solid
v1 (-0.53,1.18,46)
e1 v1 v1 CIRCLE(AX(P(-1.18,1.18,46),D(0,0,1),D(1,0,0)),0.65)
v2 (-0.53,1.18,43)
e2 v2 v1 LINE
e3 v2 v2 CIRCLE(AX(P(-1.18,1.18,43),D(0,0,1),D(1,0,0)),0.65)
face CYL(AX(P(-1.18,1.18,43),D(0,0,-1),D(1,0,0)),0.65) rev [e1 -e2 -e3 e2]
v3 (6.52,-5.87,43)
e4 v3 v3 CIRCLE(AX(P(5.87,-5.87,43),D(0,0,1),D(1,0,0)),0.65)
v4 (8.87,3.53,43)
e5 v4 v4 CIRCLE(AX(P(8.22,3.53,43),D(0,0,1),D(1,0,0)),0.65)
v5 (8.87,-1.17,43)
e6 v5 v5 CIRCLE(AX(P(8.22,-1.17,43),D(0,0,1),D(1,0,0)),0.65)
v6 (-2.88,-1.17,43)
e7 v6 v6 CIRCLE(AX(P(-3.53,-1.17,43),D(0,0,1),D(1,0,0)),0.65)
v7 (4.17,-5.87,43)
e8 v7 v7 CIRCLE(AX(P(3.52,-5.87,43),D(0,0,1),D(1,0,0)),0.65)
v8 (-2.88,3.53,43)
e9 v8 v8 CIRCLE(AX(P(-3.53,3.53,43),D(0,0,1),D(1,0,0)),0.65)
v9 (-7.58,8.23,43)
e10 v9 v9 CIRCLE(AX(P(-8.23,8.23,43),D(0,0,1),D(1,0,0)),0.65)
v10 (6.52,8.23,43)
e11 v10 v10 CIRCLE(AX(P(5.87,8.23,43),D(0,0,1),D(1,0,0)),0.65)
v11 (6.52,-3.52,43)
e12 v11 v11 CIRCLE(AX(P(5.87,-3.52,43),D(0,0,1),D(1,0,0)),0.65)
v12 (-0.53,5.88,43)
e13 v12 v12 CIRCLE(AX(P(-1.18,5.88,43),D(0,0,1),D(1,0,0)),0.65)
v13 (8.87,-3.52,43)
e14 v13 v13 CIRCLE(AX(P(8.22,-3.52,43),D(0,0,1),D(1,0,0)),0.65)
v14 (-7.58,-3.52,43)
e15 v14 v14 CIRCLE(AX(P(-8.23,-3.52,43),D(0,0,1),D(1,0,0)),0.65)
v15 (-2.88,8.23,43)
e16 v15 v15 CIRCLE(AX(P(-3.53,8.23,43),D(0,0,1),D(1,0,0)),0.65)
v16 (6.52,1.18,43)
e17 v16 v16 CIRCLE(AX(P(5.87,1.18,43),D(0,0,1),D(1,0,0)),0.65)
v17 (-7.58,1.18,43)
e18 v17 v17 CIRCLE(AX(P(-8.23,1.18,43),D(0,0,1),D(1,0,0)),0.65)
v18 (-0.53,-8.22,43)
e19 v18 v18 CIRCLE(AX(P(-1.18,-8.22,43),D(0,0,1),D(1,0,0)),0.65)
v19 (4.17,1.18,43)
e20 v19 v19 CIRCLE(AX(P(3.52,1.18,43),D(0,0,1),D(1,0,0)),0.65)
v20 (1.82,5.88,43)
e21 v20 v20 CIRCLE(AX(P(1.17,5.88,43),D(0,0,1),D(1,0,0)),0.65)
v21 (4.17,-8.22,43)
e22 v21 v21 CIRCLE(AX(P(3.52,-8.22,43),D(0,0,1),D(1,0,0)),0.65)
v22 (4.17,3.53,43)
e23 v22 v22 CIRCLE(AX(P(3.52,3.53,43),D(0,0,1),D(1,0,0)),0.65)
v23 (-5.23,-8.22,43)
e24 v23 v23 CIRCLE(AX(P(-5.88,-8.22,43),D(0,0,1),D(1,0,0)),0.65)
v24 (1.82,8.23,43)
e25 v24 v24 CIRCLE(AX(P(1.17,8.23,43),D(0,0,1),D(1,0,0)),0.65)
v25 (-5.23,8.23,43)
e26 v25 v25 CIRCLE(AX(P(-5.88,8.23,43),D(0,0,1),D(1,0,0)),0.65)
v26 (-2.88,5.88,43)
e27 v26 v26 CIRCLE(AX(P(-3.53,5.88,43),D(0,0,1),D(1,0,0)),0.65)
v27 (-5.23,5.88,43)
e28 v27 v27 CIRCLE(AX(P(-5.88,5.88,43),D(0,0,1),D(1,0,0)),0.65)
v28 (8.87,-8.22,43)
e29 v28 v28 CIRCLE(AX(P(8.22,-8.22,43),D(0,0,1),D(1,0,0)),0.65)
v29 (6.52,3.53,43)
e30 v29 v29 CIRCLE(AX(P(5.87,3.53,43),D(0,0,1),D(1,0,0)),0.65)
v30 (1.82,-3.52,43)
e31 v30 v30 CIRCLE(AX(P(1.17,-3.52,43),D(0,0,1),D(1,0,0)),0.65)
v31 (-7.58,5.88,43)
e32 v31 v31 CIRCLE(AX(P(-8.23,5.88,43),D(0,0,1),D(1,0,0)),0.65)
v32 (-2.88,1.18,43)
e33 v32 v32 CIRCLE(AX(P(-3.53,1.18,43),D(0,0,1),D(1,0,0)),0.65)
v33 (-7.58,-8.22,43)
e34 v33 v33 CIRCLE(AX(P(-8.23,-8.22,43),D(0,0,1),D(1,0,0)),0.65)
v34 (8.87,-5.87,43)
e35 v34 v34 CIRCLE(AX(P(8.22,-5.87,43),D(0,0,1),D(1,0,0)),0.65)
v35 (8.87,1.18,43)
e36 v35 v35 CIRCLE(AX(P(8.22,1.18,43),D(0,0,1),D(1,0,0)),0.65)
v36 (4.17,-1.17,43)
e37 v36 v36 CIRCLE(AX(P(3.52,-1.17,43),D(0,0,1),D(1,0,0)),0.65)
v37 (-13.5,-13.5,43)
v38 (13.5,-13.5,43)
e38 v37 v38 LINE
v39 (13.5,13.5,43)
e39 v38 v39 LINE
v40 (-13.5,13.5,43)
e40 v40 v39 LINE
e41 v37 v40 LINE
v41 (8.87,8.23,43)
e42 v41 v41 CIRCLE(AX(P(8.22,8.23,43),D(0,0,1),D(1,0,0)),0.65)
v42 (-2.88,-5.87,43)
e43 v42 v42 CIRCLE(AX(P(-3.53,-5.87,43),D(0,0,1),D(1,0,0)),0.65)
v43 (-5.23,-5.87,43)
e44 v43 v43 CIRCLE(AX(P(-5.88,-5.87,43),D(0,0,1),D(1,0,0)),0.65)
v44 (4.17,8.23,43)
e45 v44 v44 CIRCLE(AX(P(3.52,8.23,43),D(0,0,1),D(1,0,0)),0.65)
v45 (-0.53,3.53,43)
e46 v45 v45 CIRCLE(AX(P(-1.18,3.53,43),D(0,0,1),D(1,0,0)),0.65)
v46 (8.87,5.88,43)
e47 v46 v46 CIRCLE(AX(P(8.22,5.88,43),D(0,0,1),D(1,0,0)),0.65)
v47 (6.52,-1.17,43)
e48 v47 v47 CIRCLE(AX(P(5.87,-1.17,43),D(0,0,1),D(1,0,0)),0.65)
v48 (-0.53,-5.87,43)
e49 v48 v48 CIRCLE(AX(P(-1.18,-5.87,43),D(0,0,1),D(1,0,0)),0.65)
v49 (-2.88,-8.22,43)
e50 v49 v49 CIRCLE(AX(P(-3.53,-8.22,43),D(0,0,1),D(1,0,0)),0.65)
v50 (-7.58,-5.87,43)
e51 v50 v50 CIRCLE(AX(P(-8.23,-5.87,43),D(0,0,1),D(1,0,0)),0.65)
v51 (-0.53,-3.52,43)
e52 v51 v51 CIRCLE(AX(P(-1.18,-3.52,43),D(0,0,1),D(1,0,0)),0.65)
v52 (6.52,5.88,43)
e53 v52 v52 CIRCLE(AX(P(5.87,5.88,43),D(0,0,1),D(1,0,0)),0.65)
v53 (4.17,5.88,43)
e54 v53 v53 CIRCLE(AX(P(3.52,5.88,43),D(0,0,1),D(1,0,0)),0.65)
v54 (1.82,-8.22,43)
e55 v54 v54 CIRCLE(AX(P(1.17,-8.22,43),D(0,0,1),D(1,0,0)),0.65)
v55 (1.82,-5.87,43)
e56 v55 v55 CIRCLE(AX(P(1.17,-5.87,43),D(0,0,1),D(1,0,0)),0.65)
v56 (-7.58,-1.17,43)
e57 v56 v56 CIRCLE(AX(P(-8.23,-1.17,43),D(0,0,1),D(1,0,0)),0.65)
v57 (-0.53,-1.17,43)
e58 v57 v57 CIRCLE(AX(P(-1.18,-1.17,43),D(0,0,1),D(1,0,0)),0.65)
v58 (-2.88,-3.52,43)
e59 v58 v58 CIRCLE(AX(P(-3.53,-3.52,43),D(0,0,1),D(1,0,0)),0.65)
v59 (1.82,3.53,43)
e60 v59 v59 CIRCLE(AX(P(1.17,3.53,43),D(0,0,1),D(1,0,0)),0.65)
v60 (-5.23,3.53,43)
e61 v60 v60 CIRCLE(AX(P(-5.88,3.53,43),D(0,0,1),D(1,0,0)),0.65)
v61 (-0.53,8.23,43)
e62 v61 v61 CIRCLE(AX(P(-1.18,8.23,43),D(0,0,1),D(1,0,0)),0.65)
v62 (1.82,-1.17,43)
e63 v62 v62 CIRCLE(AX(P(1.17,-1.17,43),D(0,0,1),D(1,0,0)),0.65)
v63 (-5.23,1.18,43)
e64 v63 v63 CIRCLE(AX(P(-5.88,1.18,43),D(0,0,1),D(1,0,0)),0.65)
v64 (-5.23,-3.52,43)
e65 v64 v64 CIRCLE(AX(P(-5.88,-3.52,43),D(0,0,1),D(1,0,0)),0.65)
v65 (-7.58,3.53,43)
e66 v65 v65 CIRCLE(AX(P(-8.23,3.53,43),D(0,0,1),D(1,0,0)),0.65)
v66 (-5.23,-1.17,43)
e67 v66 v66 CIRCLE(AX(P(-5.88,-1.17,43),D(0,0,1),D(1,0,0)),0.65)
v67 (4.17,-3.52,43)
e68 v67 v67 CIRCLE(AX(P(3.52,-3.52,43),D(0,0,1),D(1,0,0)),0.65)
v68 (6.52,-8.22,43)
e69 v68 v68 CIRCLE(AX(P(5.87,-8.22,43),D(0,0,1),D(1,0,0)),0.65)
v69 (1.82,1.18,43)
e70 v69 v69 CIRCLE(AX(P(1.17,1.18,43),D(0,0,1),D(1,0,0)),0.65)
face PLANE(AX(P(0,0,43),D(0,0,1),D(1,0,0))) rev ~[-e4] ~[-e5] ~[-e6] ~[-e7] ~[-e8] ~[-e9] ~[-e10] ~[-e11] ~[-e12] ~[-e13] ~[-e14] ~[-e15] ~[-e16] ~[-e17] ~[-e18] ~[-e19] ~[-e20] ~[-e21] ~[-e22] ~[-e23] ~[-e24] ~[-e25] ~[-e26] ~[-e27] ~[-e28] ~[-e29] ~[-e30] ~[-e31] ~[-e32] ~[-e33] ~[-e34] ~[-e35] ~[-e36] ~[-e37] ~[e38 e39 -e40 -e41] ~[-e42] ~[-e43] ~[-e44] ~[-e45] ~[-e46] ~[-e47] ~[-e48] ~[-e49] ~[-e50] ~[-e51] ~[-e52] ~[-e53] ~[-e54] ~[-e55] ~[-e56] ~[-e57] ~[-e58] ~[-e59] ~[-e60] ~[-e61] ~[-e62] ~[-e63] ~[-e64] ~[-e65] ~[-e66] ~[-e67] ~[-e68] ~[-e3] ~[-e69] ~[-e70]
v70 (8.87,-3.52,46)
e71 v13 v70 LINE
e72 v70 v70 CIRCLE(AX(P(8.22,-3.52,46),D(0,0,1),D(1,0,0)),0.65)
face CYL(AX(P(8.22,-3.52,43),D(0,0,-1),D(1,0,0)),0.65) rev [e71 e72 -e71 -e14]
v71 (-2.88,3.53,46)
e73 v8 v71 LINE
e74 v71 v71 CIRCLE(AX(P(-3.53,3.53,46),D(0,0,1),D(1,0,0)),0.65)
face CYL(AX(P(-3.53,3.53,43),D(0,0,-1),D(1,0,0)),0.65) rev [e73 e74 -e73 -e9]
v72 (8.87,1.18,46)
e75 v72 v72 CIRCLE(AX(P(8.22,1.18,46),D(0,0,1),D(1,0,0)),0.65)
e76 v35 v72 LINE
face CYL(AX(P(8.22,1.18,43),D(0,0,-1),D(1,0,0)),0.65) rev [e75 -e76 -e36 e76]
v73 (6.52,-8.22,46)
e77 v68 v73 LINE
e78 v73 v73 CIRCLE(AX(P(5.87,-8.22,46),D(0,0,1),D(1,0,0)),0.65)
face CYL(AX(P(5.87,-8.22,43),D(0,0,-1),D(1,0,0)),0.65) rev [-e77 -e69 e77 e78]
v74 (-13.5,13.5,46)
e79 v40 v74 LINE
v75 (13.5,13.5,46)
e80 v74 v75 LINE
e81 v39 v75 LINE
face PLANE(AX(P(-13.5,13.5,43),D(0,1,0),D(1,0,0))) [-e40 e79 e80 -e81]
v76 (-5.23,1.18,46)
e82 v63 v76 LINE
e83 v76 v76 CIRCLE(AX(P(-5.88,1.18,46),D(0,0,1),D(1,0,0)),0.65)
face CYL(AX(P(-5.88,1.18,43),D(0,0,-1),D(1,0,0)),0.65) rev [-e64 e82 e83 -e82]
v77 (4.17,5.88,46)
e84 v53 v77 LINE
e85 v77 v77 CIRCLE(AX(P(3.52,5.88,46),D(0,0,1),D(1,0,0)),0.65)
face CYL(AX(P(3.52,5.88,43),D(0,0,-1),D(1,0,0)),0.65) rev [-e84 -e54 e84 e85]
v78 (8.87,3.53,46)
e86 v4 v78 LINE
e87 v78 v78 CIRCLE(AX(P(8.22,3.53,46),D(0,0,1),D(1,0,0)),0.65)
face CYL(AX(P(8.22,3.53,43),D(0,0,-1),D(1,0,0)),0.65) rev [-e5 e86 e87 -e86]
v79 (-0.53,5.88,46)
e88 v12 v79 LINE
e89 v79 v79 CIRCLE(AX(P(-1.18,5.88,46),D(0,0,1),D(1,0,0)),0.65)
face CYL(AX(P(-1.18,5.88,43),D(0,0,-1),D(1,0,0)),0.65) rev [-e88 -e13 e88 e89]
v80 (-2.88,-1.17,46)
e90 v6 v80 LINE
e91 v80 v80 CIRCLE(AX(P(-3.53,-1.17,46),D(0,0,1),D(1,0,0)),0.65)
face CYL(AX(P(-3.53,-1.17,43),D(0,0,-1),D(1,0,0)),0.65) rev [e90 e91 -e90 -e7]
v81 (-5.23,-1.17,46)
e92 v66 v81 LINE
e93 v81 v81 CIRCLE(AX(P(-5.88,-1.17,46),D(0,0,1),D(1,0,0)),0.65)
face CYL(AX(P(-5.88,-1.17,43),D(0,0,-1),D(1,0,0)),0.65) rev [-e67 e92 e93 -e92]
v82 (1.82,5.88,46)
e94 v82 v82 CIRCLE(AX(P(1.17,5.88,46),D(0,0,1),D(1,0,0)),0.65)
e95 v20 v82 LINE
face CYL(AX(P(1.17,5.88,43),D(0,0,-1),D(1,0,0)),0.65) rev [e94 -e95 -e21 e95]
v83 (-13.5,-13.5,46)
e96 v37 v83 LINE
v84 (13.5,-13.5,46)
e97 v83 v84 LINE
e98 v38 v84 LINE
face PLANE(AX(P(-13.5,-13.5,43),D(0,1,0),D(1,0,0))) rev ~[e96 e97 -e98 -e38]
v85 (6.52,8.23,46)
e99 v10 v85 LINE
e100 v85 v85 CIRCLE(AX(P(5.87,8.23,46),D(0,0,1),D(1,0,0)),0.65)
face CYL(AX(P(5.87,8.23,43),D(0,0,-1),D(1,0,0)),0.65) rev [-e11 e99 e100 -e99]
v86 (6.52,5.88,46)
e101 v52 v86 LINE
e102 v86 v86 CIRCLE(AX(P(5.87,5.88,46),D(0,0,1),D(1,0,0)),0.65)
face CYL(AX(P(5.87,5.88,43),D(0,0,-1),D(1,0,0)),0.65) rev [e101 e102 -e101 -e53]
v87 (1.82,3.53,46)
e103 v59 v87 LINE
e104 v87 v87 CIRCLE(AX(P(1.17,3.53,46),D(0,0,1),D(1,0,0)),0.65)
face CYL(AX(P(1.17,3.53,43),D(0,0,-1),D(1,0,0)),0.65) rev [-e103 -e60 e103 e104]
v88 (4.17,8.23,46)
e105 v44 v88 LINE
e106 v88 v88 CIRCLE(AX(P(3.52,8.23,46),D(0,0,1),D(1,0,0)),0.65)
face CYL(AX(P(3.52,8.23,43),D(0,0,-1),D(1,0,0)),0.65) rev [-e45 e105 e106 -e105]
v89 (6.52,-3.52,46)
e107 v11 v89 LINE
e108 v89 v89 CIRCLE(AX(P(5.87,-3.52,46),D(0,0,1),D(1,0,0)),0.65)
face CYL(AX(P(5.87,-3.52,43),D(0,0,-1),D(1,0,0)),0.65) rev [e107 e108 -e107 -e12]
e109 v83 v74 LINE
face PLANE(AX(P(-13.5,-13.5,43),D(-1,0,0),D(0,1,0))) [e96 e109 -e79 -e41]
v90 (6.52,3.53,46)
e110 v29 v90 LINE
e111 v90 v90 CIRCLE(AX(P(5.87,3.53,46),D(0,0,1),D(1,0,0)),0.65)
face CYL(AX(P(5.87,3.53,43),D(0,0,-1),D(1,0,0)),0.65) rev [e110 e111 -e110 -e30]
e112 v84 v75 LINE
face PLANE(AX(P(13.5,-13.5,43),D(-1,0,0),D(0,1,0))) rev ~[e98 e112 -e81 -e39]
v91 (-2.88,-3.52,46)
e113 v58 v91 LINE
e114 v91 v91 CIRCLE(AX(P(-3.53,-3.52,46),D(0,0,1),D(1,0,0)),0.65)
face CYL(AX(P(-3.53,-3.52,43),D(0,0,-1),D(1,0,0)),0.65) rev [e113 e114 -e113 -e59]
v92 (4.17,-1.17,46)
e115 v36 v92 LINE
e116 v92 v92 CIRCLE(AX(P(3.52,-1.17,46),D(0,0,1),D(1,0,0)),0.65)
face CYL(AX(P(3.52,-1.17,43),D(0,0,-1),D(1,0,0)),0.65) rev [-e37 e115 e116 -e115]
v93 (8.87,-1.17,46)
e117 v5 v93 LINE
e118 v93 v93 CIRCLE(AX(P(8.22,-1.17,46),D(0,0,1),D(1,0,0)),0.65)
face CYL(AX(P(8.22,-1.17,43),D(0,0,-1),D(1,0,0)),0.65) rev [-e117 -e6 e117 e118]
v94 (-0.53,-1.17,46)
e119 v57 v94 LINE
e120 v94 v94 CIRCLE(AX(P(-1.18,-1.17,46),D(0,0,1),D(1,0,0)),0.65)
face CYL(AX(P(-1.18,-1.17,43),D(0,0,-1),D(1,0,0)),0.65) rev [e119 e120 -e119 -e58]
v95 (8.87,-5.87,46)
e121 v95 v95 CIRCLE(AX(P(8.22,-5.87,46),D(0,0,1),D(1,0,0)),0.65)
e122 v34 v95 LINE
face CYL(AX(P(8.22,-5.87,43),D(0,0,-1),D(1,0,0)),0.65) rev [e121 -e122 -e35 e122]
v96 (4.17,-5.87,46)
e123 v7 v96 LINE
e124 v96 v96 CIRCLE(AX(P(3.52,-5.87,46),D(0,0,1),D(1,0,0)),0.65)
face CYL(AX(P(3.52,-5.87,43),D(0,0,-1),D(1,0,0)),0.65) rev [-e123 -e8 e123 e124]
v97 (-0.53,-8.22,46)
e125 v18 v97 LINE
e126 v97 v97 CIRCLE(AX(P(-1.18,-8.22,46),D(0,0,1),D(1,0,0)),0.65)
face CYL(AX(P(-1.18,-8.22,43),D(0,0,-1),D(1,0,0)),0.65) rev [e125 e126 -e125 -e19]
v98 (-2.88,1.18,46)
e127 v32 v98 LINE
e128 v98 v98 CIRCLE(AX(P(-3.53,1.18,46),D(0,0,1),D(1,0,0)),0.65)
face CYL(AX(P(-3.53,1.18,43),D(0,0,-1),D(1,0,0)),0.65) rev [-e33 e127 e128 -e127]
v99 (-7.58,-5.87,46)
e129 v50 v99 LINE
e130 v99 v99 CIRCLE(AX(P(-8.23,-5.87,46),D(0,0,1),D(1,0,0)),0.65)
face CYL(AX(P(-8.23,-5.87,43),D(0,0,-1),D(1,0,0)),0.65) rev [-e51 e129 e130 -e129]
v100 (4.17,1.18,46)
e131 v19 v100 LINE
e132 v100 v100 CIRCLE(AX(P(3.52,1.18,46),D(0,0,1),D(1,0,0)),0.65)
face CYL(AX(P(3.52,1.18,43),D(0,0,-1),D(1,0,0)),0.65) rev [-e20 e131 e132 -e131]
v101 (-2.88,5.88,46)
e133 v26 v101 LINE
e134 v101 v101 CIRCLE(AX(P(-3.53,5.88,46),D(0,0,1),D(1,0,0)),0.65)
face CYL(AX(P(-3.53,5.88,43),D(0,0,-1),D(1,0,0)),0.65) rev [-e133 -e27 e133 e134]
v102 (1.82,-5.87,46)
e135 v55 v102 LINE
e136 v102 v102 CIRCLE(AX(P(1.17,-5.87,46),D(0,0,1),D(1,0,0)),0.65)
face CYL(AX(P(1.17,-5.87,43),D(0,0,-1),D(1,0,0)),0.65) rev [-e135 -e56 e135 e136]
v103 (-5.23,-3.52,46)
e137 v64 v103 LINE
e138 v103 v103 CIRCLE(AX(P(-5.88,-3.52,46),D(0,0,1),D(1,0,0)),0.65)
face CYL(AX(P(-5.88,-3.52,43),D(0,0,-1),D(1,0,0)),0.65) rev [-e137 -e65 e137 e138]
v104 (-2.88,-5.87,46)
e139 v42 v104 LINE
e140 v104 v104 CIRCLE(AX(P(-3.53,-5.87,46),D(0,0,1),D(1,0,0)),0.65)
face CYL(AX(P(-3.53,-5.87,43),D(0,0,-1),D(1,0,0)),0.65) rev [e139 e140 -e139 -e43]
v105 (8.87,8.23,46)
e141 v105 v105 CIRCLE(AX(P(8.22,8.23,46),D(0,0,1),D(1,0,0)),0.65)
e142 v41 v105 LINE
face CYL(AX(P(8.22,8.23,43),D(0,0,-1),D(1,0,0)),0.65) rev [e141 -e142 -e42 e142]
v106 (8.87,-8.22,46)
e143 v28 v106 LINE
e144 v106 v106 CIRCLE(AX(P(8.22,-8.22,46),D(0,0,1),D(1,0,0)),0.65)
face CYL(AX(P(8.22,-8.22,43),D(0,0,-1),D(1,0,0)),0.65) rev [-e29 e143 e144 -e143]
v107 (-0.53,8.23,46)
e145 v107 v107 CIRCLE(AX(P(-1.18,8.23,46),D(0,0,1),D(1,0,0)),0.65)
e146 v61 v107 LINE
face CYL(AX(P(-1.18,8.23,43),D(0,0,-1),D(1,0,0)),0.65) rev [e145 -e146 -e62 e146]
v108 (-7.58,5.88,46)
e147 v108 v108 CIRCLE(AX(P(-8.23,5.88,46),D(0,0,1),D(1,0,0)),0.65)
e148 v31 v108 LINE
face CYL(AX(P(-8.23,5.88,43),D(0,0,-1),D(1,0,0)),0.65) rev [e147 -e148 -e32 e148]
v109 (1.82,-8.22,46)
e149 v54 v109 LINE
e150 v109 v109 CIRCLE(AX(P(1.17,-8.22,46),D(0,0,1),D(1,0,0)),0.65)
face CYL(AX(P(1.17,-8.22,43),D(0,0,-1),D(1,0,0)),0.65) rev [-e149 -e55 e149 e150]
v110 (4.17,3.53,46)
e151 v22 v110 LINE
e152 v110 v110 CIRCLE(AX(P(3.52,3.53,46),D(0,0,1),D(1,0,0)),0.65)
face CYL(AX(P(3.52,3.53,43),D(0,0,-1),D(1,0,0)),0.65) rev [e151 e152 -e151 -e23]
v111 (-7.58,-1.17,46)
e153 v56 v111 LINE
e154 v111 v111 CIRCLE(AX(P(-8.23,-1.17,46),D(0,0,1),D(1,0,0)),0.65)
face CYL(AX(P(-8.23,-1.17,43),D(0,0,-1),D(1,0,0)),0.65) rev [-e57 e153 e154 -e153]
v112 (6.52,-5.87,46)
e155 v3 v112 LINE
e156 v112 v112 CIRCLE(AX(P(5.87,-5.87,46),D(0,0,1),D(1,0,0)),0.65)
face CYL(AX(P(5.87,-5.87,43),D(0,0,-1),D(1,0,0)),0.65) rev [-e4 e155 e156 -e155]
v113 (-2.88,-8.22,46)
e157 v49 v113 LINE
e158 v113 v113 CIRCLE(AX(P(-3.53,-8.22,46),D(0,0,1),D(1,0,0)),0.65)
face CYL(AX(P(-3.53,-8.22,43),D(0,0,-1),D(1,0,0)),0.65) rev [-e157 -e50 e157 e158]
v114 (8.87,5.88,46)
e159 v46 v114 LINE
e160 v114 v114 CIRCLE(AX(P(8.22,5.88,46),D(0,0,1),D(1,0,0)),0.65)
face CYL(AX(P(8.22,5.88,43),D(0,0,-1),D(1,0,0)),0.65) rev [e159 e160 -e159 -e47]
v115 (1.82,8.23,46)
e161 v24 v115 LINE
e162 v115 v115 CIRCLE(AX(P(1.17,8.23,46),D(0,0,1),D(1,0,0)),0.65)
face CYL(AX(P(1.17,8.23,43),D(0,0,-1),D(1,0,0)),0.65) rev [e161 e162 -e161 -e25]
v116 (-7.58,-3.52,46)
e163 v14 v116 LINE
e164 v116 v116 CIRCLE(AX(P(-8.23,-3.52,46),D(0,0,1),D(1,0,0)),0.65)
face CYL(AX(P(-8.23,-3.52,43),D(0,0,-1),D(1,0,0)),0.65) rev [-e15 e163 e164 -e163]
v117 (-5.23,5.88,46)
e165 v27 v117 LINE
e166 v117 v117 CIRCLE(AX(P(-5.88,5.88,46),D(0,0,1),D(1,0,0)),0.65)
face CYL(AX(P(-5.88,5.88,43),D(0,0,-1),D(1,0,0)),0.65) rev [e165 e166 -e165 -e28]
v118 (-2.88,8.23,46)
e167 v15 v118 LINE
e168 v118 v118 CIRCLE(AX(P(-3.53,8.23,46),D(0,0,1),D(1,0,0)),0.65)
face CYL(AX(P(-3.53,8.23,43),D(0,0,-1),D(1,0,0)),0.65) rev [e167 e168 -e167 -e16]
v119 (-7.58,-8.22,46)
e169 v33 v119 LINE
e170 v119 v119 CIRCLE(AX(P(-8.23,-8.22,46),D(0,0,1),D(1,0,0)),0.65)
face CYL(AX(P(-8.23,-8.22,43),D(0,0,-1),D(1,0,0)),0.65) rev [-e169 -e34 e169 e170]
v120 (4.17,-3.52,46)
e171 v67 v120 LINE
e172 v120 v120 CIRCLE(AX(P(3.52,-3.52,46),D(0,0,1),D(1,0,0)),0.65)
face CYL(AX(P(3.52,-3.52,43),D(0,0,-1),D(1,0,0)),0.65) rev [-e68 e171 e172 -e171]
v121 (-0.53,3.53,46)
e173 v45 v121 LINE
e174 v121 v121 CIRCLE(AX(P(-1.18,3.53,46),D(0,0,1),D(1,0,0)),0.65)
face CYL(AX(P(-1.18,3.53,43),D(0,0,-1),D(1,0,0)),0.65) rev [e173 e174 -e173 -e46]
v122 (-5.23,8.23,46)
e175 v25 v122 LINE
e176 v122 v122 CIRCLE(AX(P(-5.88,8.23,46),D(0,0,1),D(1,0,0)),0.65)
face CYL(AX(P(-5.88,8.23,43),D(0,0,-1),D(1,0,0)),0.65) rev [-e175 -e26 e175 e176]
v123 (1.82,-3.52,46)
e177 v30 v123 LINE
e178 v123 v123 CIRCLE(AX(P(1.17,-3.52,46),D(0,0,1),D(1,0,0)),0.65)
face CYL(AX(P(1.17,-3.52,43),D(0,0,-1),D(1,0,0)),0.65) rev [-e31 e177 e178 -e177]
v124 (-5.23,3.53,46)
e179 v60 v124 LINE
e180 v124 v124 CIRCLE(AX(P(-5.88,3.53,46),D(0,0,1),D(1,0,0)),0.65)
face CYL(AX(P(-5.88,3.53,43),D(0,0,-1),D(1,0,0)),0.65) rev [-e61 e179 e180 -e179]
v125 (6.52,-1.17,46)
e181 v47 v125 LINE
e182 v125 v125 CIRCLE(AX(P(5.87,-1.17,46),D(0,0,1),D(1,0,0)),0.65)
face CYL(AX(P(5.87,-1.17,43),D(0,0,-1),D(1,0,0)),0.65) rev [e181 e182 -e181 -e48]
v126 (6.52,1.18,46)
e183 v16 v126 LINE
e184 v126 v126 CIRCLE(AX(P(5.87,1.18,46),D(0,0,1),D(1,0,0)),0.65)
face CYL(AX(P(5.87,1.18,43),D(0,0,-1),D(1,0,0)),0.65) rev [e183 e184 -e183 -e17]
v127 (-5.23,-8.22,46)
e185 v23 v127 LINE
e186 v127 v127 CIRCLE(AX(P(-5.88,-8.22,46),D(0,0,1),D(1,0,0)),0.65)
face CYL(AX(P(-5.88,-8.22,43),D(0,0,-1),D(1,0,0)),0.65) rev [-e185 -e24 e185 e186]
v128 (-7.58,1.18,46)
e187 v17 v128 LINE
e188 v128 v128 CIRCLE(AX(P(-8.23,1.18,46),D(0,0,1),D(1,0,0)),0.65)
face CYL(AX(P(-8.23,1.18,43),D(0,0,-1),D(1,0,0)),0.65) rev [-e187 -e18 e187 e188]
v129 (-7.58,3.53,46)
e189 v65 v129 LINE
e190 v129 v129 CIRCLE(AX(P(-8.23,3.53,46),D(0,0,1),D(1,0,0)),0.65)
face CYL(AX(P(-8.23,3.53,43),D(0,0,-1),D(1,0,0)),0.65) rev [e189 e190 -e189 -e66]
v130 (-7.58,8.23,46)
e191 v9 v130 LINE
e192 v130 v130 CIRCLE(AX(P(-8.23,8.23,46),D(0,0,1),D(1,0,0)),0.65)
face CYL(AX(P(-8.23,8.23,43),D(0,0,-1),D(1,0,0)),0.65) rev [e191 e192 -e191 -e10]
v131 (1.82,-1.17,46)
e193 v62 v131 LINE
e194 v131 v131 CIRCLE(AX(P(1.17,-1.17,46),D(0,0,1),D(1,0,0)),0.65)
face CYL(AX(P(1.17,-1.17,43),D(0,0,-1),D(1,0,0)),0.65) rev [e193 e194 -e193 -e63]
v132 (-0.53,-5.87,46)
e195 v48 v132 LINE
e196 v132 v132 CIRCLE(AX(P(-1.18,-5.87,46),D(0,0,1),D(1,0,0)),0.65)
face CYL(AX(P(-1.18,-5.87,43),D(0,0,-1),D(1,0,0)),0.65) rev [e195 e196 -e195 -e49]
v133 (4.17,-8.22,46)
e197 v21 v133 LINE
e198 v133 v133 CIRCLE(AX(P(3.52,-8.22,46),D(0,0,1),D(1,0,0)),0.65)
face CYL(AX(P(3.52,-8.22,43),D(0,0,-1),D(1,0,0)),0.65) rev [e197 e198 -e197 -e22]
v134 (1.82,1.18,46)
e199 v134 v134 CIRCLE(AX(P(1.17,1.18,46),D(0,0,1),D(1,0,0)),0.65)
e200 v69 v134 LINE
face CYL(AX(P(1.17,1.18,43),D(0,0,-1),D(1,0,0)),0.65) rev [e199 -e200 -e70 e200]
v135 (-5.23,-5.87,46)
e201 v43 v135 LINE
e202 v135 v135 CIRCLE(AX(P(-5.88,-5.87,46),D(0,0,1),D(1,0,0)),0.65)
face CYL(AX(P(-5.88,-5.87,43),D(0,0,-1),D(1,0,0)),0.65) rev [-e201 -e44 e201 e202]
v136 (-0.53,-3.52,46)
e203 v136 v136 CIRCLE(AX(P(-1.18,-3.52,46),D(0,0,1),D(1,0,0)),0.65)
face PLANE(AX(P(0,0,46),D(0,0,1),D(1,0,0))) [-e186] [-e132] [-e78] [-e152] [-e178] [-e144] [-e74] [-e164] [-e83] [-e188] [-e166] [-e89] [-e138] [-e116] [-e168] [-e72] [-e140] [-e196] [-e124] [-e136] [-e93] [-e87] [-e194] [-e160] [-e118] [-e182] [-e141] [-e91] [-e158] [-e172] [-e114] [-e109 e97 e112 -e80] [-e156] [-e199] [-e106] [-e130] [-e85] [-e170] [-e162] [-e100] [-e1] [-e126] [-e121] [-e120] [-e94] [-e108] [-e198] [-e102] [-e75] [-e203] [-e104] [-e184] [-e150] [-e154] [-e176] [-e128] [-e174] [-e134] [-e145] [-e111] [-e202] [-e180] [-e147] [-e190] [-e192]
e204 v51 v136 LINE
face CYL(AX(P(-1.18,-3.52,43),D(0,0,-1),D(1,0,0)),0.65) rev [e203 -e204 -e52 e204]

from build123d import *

# Parameters (mm, degrees)
SKETCH2_W           = 27
SKETCH2_H           = 27
BOSS_EXTRUDE2_DEPTH = 3
SKETCH5_R           = 0.65
CUT_EXTRUDE1_DEPTH  = 3


with BuildPart() as part:
    # Sketch2 → Boss-Extrude2 (new body)
    with BuildSketch(Plane.XY.offset(43)):
        Rectangle(SKETCH2_W, SKETCH2_H)
    extrude(amount=BOSS_EXTRUDE2_DEPTH)

    # Sketch5 → Cut-Extrude1 (cut)
    with BuildSketch(Plane.XY.offset(43)):
        with Locations((-8.23, 8.23)):
            Circle(SKETCH5_R)
        with Locations((-5.88, 8.23)):
            Circle(SKETCH5_R)
        with Locations((-3.53, 8.23)):
            Circle(SKETCH5_R)
        with Locations((-1.18, 8.23)):
            Circle(SKETCH5_R)
        with Locations((1.17, 8.23)):
            Circle(SKETCH5_R)
        with Locations((3.52, 8.23)):
            Circle(SKETCH5_R)
        with Locations((5.87, 8.23)):
            Circle(SKETCH5_R)
        with Locations((8.22, 8.23)):
            Circle(SKETCH5_R)
        with Locations((-5.88, 5.88)):
            Circle(SKETCH5_R)
        with Locations((-3.53, 5.88)):
            Circle(SKETCH5_R)
        with Locations((-1.18, 5.88)):
            Circle(SKETCH5_R)
        with Locations((1.17, 5.88)):
            Circle(SKETCH5_R)
        with Locations((3.52, 5.88)):
            Circle(SKETCH5_R)
        with Locations((5.87, 5.88)):
            Circle(SKETCH5_R)
        with Locations((8.22, 5.88)):
            Circle(SKETCH5_R)
        with Locations((-5.88, 3.53)):
            Circle(SKETCH5_R)
        with Locations((-3.53, 3.53)):
            Circle(SKETCH5_R)
        with Locations((-1.18, 3.53)):
            Circle(SKETCH5_R)
        with Locations((1.17, 3.53)):
            Circle(SKETCH5_R)
        with Locations((3.52, 3.53)):
            Circle(SKETCH5_R)
        with Locations((5.87, 3.53)):
            Circle(SKETCH5_R)
        with Locations((8.22, 3.53)):
            Circle(SKETCH5_R)
        with Locations((-5.88, 1.18)):
            Circle(SKETCH5_R)
        with Locations((-3.53, 1.18)):
            Circle(SKETCH5_R)
        with Locations((-1.18, 1.18)):
            Circle(SKETCH5_R)
        with Locations((1.17, 1.18)):
            Circle(SKETCH5_R)
        with Locations((3.52, 1.18)):
            Circle(SKETCH5_R)
        with Locations((5.87, 1.18)):
            Circle(SKETCH5_R)
        with Locations((8.22, 1.18)):
            Circle(SKETCH5_R)
        with Locations((-5.88, -1.17)):
            Circle(SKETCH5_R)
        with Locations((-3.53, -1.17)):
            Circle(SKETCH5_R)
        with Locations((-1.18, -1.17)):
            Circle(SKETCH5_R)
        with Locations((1.17, -1.17)):
            Circle(SKETCH5_R)
        with Locations((3.52, -1.17)):
            Circle(SKETCH5_R)
        with Locations((5.87, -1.17)):
            Circle(SKETCH5_R)
        with Locations((8.22, -1.17)):
            Circle(SKETCH5_R)
        with Locations((-5.88, -3.52)):
            Circle(SKETCH5_R)
        with Locations((-3.53, -3.52)):
            Circle(SKETCH5_R)
        with Locations((-1.18, -3.52)):
            Circle(SKETCH5_R)
        with Locations((1.17, -3.52)):
            Circle(SKETCH5_R)
        with Locations((3.52, -3.52)):
            Circle(SKETCH5_R)
        with Locations((5.87, -3.52)):
            Circle(SKETCH5_R)
        with Locations((8.22, -3.52)):
            Circle(SKETCH5_R)
        with Locations((-5.88, -5.87)):
            Circle(SKETCH5_R)
        with Locations((-3.53, -5.87)):
            Circle(SKETCH5_R)
        with Locations((-1.18, -5.87)):
            Circle(SKETCH5_R)
        with Locations((1.17, -5.87)):
            Circle(SKETCH5_R)
        with Locations((3.52, -5.87)):
            Circle(SKETCH5_R)
        with Locations((5.87, -5.87)):
            Circle(SKETCH5_R)
        with Locations((8.22, -5.87)):
            Circle(SKETCH5_R)
        with Locations((-5.88, -8.22)):
            Circle(SKETCH5_R)
        with Locations((-3.53, -8.22)):
            Circle(SKETCH5_R)
        with Locations((-1.18, -8.22)):
            Circle(SKETCH5_R)
        with Locations((1.17, -8.22)):
            Circle(SKETCH5_R)
        with Locations((3.52, -8.22)):
            Circle(SKETCH5_R)
        with Locations((5.87, -8.22)):
            Circle(SKETCH5_R)
        with Locations((8.22, -8.22)):
            Circle(SKETCH5_R)
        with Locations((-8.23, 5.88)):
            Circle(SKETCH5_R)
        with Locations((-8.23, 3.53)):
            Circle(SKETCH5_R)
        with Locations((-8.23, 1.18)):
            Circle(SKETCH5_R)
        with Locations((-8.23, -1.17)):
            Circle(SKETCH5_R)
        with Locations((-8.23, -3.52)):
            Circle(SKETCH5_R)
        with Locations((-8.23, -5.87)):
            Circle(SKETCH5_R)
        with Locations((-8.23, -8.22)):
            Circle(SKETCH5_R)
    extrude(amount=CUT_EXTRUDE1_DEPTH, mode=Mode.SUBTRACT)


solid = part.part
